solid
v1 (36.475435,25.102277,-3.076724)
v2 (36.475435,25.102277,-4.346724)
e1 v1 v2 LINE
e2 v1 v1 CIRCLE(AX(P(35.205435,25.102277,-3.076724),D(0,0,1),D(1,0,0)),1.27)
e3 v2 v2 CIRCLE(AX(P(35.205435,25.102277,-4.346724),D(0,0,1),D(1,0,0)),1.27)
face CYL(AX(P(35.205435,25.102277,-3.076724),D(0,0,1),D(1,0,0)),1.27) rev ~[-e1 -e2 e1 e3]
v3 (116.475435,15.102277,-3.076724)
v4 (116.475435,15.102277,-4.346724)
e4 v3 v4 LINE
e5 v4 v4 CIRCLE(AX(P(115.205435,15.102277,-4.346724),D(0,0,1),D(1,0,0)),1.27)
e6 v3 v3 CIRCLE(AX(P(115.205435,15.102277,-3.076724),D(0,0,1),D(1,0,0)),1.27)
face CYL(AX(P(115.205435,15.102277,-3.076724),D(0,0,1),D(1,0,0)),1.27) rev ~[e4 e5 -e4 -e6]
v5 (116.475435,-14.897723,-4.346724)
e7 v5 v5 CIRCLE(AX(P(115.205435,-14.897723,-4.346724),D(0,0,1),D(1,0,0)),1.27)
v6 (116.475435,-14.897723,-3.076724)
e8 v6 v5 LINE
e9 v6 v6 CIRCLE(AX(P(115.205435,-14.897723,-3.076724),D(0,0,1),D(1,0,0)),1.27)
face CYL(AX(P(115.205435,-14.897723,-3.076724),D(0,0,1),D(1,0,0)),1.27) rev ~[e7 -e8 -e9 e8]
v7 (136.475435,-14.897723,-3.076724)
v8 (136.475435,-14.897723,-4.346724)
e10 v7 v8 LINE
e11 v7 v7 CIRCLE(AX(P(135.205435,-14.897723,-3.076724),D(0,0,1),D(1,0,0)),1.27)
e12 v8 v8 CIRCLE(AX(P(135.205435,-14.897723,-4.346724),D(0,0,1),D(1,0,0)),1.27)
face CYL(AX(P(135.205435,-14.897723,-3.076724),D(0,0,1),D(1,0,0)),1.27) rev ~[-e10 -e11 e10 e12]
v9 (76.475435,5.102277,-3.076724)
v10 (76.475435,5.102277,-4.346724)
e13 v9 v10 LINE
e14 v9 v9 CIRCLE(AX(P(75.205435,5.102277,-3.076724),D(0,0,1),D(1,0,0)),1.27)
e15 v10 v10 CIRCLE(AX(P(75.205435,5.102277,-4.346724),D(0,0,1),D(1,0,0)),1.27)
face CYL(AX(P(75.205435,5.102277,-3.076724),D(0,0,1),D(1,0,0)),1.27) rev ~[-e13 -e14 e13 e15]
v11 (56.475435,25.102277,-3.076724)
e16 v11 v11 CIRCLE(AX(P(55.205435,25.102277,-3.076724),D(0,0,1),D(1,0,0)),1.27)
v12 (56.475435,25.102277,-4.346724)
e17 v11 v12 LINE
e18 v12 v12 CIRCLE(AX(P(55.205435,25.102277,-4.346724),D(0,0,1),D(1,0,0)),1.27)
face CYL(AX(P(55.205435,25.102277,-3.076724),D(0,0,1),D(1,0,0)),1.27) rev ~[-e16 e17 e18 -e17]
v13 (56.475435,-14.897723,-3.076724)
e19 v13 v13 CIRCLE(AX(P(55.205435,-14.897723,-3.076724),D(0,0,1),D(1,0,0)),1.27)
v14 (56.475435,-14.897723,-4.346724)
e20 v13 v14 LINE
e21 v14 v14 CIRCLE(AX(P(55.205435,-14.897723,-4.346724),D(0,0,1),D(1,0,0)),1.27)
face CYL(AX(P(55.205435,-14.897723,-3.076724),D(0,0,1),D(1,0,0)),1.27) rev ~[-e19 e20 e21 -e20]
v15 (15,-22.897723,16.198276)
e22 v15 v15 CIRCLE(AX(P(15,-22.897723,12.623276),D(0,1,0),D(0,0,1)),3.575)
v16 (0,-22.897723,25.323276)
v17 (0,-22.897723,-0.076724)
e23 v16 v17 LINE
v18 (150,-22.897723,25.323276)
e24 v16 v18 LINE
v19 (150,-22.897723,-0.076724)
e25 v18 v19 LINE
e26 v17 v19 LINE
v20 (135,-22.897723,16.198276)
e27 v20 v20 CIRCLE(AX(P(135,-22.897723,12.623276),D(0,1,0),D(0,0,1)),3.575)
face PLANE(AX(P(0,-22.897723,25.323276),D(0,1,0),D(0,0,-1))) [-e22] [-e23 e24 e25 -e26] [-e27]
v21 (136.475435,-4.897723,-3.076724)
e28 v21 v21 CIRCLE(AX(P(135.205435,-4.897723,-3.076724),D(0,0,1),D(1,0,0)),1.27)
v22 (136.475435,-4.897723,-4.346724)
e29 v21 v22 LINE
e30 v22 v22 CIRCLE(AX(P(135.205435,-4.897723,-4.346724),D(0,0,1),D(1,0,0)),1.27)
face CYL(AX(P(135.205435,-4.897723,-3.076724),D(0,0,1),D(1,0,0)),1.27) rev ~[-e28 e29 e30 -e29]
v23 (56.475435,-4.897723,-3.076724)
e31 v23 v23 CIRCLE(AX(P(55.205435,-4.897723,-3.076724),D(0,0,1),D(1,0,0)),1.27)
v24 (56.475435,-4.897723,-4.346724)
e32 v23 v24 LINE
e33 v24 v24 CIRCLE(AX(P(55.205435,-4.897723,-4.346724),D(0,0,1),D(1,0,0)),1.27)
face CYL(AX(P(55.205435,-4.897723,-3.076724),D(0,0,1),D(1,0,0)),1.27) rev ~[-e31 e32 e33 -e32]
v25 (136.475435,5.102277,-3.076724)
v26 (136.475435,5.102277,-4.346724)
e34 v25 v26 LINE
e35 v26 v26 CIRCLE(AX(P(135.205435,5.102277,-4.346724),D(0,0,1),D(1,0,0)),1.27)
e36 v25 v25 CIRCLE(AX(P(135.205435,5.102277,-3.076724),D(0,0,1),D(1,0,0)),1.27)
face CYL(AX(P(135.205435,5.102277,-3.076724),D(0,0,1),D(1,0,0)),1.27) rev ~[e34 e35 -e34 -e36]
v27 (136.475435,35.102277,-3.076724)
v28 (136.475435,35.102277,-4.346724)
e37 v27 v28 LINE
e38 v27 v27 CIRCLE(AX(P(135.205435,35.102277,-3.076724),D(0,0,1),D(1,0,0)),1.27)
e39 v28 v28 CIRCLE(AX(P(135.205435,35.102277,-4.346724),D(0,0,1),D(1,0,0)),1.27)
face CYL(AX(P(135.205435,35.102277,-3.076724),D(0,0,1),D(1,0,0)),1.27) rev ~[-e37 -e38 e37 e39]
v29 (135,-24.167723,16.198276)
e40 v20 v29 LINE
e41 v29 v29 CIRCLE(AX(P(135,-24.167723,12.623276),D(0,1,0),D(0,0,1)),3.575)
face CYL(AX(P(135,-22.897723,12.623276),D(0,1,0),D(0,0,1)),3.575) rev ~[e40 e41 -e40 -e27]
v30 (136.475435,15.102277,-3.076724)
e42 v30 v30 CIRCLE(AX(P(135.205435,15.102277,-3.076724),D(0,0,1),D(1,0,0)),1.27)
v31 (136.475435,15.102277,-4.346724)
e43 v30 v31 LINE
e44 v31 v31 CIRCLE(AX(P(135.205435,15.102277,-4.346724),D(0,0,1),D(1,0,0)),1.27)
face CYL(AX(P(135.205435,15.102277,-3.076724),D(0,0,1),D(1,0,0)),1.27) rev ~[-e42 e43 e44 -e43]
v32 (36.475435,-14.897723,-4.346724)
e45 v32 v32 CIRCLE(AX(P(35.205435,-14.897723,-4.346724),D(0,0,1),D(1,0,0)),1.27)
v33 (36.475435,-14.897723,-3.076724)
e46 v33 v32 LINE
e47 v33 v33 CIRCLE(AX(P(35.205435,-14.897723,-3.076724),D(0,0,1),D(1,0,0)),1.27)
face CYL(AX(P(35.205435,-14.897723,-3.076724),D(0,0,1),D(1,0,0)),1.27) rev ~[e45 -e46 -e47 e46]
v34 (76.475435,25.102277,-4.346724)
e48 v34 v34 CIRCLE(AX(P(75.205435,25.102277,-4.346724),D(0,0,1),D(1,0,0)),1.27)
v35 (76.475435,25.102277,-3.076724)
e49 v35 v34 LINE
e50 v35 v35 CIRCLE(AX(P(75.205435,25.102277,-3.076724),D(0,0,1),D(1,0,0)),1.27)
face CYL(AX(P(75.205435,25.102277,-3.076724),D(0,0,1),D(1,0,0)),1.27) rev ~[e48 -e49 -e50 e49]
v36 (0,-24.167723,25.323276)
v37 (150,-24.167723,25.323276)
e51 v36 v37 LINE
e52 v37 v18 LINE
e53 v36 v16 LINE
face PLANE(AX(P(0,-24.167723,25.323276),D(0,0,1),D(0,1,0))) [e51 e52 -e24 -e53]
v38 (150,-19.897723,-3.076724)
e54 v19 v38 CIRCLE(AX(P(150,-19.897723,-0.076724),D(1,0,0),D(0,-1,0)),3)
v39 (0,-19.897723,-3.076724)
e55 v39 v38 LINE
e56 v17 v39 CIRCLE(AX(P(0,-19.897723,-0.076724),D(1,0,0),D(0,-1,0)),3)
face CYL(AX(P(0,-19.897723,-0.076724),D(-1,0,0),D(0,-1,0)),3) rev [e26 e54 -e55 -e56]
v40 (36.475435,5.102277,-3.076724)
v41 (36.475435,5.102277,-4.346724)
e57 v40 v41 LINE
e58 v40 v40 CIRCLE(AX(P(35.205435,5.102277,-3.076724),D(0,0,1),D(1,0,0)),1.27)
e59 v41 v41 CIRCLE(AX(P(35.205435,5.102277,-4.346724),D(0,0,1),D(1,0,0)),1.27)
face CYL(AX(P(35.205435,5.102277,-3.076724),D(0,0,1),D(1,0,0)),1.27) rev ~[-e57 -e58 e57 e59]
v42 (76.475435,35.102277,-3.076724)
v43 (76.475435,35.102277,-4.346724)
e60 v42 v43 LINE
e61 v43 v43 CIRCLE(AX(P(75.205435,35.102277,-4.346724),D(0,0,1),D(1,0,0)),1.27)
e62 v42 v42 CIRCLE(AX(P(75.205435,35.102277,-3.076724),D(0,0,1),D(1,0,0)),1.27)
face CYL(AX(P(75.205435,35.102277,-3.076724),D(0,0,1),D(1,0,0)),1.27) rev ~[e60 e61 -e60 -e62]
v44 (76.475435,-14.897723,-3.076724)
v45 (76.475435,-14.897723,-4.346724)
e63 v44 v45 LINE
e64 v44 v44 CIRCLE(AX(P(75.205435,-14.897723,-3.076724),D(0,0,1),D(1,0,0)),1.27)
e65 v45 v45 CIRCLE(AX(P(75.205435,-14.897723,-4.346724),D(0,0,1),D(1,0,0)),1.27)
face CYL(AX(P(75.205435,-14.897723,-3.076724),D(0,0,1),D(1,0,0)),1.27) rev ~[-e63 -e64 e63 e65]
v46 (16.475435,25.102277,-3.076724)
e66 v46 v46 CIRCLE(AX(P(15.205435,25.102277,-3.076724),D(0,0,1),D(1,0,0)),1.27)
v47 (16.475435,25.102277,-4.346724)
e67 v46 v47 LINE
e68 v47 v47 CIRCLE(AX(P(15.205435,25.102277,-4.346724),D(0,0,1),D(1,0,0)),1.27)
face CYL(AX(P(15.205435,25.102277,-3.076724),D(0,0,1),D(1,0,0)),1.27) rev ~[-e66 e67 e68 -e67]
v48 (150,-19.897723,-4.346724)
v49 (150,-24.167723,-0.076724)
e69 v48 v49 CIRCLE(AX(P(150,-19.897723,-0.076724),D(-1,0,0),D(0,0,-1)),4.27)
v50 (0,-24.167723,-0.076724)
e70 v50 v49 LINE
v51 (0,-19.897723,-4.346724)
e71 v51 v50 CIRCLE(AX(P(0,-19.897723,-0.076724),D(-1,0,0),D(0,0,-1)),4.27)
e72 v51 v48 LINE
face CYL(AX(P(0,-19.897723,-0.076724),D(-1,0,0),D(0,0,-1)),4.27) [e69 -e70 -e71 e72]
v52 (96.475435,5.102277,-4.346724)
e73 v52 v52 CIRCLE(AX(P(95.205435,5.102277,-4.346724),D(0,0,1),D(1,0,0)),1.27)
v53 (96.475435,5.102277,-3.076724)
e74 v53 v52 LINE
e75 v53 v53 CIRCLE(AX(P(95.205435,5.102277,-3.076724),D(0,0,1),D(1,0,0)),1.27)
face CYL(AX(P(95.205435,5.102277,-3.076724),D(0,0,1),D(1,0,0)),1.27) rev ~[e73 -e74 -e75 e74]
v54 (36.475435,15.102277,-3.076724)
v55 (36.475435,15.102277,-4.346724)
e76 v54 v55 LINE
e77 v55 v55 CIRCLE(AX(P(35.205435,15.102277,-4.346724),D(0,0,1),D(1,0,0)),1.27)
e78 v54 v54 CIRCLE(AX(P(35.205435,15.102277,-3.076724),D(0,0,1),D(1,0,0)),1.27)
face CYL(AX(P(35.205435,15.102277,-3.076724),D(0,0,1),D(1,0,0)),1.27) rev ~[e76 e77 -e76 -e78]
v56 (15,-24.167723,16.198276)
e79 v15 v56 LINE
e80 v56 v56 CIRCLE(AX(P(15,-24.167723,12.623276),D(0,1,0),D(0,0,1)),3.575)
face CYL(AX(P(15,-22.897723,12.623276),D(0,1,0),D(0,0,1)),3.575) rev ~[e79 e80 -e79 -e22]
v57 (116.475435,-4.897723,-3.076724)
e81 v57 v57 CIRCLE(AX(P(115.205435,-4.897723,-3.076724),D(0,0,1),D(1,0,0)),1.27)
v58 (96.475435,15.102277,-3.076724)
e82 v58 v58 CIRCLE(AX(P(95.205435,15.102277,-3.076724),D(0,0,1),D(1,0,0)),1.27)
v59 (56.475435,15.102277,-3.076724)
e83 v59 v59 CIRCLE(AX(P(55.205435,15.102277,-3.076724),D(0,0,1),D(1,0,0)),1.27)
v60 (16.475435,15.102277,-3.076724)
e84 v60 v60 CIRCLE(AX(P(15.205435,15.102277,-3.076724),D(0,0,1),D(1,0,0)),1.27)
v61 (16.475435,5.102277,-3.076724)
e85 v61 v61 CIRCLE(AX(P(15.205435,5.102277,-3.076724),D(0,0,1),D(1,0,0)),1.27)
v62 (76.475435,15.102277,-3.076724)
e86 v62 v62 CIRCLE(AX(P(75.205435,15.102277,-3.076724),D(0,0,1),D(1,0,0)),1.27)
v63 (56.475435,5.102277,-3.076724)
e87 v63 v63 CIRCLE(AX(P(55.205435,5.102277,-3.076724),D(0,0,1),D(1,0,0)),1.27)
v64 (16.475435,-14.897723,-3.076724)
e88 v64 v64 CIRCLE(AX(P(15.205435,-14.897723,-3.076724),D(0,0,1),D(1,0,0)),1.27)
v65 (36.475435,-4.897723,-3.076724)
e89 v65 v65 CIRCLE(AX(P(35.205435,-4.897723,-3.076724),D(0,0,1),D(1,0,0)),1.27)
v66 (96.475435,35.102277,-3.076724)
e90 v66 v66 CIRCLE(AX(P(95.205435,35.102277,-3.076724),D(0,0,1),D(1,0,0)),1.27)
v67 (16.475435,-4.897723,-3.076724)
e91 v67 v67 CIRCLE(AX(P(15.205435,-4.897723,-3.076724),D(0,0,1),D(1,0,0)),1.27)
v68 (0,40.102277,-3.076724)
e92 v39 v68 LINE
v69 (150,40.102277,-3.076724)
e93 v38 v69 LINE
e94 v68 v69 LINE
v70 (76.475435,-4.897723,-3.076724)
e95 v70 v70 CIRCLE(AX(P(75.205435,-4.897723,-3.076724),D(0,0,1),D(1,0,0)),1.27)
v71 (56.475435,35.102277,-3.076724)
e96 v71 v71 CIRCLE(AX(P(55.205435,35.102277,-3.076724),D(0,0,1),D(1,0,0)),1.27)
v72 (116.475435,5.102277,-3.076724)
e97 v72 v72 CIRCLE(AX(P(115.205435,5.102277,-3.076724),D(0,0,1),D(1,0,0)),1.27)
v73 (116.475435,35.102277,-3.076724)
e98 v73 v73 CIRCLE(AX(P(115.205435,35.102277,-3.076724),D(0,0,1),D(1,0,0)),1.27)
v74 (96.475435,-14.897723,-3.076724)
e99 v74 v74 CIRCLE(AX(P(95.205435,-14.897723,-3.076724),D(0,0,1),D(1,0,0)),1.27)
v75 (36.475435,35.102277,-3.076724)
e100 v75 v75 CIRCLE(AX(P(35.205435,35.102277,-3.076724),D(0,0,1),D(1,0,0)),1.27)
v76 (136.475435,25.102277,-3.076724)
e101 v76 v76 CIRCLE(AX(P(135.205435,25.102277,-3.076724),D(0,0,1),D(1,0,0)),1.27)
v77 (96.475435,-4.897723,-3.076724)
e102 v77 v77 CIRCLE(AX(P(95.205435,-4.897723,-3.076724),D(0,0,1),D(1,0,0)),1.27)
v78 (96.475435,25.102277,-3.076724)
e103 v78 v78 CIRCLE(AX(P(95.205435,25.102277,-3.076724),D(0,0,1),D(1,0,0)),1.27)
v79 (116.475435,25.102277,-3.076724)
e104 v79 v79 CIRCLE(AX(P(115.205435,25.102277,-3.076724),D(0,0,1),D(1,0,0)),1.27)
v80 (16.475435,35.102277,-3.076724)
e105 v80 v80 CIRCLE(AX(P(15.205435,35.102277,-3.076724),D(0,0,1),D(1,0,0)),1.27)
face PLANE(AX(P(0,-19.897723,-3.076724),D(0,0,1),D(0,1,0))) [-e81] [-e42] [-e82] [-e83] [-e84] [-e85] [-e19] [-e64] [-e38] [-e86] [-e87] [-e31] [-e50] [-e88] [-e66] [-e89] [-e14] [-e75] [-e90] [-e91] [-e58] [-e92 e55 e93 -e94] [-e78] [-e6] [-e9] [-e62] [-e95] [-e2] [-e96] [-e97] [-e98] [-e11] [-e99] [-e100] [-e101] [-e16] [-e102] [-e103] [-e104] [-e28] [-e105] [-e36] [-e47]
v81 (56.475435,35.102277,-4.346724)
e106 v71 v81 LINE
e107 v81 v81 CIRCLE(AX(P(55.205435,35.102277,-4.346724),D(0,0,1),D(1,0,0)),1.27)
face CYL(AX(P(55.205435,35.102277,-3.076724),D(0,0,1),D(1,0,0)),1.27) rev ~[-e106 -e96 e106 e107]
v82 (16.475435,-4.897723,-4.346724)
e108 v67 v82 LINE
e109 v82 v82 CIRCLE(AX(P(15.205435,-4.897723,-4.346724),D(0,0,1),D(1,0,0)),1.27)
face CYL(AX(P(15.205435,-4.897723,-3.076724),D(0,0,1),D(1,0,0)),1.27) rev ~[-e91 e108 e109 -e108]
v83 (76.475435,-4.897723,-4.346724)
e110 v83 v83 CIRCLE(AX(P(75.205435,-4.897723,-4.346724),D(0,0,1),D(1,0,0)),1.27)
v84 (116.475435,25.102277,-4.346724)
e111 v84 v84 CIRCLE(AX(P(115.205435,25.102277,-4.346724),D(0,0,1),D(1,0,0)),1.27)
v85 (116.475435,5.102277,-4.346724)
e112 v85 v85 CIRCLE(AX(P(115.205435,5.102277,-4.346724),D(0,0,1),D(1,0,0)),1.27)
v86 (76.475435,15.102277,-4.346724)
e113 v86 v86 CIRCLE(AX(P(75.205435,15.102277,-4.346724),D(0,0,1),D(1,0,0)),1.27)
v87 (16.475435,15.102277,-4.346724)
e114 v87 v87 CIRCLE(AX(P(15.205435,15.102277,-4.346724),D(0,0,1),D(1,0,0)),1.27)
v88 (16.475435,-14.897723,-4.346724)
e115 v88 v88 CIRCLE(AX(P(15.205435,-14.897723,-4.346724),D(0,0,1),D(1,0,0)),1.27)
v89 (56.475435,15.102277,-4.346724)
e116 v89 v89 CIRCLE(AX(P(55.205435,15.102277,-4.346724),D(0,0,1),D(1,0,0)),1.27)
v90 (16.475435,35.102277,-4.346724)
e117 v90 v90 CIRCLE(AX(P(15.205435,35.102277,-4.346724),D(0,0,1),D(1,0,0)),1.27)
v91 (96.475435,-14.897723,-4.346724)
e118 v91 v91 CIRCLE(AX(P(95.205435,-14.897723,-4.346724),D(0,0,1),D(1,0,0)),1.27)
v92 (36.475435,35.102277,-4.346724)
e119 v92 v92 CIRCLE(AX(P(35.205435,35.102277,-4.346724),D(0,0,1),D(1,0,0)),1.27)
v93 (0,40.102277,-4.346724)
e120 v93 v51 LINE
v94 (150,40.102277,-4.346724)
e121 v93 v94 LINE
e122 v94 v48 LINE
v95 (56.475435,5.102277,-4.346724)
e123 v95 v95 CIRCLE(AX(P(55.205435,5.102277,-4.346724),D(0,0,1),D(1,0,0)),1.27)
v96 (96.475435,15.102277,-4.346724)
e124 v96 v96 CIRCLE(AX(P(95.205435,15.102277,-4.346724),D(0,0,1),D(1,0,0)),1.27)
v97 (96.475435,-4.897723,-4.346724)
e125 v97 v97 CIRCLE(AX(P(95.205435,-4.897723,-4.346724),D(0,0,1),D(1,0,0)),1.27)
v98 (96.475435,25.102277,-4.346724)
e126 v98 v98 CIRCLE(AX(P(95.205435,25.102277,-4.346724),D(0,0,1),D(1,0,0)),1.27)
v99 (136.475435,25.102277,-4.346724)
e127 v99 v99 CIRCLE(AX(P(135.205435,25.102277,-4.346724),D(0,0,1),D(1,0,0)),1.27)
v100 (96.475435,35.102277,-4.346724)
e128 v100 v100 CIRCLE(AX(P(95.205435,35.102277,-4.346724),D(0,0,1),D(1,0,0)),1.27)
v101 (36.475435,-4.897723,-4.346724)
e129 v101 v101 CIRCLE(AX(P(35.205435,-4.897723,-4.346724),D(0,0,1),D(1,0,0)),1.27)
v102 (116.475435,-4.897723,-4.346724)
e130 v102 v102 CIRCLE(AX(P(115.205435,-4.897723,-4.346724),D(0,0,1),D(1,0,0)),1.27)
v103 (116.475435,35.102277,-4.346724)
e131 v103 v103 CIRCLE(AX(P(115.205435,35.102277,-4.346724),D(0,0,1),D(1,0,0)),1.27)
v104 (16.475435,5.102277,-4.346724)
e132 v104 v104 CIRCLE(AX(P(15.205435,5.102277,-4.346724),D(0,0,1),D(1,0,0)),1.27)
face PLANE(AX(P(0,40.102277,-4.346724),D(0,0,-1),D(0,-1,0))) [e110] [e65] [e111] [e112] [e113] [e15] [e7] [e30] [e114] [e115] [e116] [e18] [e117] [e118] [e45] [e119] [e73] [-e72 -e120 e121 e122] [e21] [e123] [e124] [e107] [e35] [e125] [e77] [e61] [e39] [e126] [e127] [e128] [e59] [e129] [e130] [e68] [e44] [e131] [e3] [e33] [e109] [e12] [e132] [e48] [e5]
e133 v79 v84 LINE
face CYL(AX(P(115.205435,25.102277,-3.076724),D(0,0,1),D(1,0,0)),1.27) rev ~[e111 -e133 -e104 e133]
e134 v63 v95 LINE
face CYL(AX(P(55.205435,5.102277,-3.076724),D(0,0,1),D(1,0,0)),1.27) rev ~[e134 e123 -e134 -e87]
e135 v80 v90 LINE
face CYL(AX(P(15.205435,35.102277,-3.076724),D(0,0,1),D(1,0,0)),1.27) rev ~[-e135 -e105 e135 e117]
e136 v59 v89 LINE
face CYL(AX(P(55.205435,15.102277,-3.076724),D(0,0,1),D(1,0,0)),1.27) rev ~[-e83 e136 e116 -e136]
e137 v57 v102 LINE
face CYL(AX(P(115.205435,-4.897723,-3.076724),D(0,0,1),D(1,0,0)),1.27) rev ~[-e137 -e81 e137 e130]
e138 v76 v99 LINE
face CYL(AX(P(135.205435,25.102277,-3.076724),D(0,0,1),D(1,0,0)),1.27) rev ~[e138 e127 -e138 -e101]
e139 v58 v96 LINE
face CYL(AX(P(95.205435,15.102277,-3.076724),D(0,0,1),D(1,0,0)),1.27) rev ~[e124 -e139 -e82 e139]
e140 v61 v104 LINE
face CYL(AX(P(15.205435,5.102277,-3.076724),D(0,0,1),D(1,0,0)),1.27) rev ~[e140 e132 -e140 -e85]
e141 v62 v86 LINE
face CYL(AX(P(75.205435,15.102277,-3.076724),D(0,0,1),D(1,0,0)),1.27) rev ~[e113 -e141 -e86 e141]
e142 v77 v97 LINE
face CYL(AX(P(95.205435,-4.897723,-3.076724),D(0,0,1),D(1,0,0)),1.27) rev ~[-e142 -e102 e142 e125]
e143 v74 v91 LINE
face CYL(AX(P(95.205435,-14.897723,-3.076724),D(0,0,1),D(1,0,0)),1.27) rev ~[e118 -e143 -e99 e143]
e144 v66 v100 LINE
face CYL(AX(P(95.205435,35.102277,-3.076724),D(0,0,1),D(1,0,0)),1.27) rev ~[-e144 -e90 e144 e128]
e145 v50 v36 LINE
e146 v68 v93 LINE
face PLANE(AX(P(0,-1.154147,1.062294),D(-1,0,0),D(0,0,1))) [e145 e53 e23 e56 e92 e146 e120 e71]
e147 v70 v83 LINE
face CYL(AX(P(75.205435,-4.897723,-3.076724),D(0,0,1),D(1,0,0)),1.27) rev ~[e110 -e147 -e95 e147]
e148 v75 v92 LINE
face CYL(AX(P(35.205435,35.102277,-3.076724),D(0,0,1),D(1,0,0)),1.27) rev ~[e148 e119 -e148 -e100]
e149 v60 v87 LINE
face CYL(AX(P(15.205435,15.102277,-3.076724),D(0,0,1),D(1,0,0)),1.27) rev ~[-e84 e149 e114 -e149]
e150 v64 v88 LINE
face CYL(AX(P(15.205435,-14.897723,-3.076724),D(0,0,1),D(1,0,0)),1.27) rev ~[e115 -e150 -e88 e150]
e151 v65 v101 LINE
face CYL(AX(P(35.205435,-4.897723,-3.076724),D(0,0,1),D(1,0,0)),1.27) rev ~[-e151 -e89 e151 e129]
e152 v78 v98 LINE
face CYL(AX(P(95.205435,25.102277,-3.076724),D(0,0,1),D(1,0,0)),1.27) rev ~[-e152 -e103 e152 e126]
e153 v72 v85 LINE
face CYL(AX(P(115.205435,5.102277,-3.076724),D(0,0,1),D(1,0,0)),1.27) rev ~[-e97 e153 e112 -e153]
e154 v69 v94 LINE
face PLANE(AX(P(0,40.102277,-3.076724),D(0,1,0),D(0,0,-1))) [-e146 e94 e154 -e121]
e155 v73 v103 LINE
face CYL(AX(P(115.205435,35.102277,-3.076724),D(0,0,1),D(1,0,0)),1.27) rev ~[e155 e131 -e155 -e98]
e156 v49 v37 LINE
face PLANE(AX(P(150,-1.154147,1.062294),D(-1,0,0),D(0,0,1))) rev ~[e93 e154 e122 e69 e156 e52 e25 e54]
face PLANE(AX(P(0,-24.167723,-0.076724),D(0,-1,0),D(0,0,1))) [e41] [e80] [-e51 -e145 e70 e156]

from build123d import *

# Parameters (mm, degrees)
EXTRUDE_THIN1_DEPTH        = 150
SKETCH5_R                  = 3.575
CUT_EXTRUDE1_DEPTH         = 165.651961158
SKETCH6_R                  = 1.27
CUT_EXTRUDE2_DEPTH         = 158.844076918
LPATTERN2_COUNT            = 7
LPATTERN2_PITCH            = 20
LPATTERN3_COUNT            = 6
LPATTERN3_PITCH            = 10
LPATTERN3_COPY_1_SKETCH_R  = 1.27
LPATTERN3_COPY_1_DEPTH     = 158.844076918
LPATTERN3_COPY_2_SKETCH_R  = 1.27
LPATTERN3_COPY_2_DEPTH     = 158.844076918
LPATTERN3_COPY_3_SKETCH_R  = 1.27
LPATTERN3_COPY_3_DEPTH     = 158.844076918
LPATTERN3_COPY_4_SKETCH_R  = 1.27
LPATTERN3_COPY_4_DEPTH     = 158.844076918
LPATTERN3_COPY_5_SKETCH_R  = 1.27
LPATTERN3_COPY_5_DEPTH     = 158.844076918
LPATTERN3_COPY_6_SKETCH_R  = 1.27
LPATTERN3_COPY_6_DEPTH     = 158.844076918
LPATTERN3_COPY_7_SKETCH_R  = 1.27
LPATTERN3_COPY_7_DEPTH     = 158.844076918
LPATTERN3_COPY_8_SKETCH_R  = 1.27
LPATTERN3_COPY_8_DEPTH     = 158.844076918
LPATTERN3_COPY_9_SKETCH_R  = 1.27
LPATTERN3_COPY_9_DEPTH     = 158.844076918
LPATTERN3_COPY_10_SKETCH_R = 1.27
LPATTERN3_COPY_10_DEPTH    = 158.844076918
LPATTERN3_COPY_11_SKETCH_R = 1.27
LPATTERN3_COPY_11_DEPTH    = 158.844076918
LPATTERN3_COPY_12_SKETCH_R = 1.27
LPATTERN3_COPY_12_DEPTH    = 158.844076918
LPATTERN3_COPY_13_SKETCH_R = 1.27
LPATTERN3_COPY_13_DEPTH    = 158.844076918
LPATTERN3_COPY_14_SKETCH_R = 1.27
LPATTERN3_COPY_14_DEPTH    = 158.844076918
LPATTERN3_COPY_15_SKETCH_R = 1.27
LPATTERN3_COPY_15_DEPTH    = 158.844076918
LPATTERN3_COPY_16_SKETCH_R = 1.27
LPATTERN3_COPY_16_DEPTH    = 158.844076918
LPATTERN3_COPY_17_SKETCH_R = 1.27
LPATTERN3_COPY_17_DEPTH    = 158.844076918
LPATTERN3_COPY_18_SKETCH_R = 1.27
LPATTERN3_COPY_18_DEPTH    = 158.844076918
LPATTERN3_COPY_19_SKETCH_R = 1.27
LPATTERN3_COPY_19_DEPTH    = 158.844076918
LPATTERN3_COPY_20_SKETCH_R = 1.27
LPATTERN3_COPY_20_DEPTH    = 158.844076918
LPATTERN3_COPY_21_SKETCH_R = 1.27
LPATTERN3_COPY_21_DEPTH    = 158.844076918
LPATTERN3_COPY_22_SKETCH_R = 1.27
LPATTERN3_COPY_22_DEPTH    = 158.844076918
LPATTERN3_COPY_23_SKETCH_R = 1.27
LPATTERN3_COPY_23_DEPTH    = 158.844076918
LPATTERN3_COPY_24_SKETCH_R = 1.27
LPATTERN3_COPY_24_DEPTH    = 158.844076918
LPATTERN3_COPY_25_SKETCH_R = 1.27
LPATTERN3_COPY_25_DEPTH    = 158.844076918
LPATTERN3_COPY_26_SKETCH_R = 1.27
LPATTERN3_COPY_26_DEPTH    = 158.844076918
LPATTERN3_COPY_27_SKETCH_R = 1.27
LPATTERN3_COPY_27_DEPTH    = 158.844076918
LPATTERN3_COPY_28_SKETCH_R = 1.27
LPATTERN3_COPY_28_DEPTH    = 158.844076918
LPATTERN3_COPY_29_SKETCH_R = 1.27
LPATTERN3_COPY_29_DEPTH    = 158.844076918
LPATTERN3_COPY_30_SKETCH_R = 1.27
LPATTERN3_COPY_30_DEPTH    = 158.844076918


with BuildPart() as part:
    # Sketch2 → Extrude-Thin1 (new body)
    with BuildSketch(Plane(origin=(0, 0, 0), x_dir=(0, 0, -1), z_dir=(1, 0, 0))):
        with BuildLine():
            Line((-25.323276114, -22.897723031), (0.076723886, -22.897723031))
            ThreePointArc((0.076723886, -22.897723031), (2.198044229, -22.019043375), (3.076723886, -19.897723031))
            Line((3.076723886, -19.897723031), (3.076723886, 40.102276969))
            Line((3.076723886, 40.102276969), (4.346723886, 40.102276969))
            Line((4.346723886, 40.102276969), (4.346723886, -19.897723031))
            ThreePointArc((4.346723886, -19.897723031), (3.096069841, -22.917068987), (0.076723886, -24.167723031))
            Line((0.076723886, -24.167723031), (-25.323276114, -24.167723031))
            Line((-25.323276114, -24.167723031), (-25.323276114, -22.897723031))
        make_face()
    extrude(amount=EXTRUDE_THIN1_DEPTH)

    # Sketch5 → Cut-Extrude1 (cut, through all)
    with BuildSketch(Plane(origin=(0, -22.897723031, 0), x_dir=(1, 0, 0), z_dir=(0, 1, 0))):
        with Locations(Location((15, -12.623276114, 0), (0, 0, 270))):
            Circle(SKETCH5_R)
        with Locations(Location((135, -12.623276114, 0), (0, 0, 270))):
            Circle(SKETCH5_R)
    extrude(amount=-CUT_EXTRUDE1_DEPTH, mode=Mode.SUBTRACT)

    # Sketch6 → Cut-Extrude2 (cut, through all)
    with BuildSketch(Plane.XY.offset(-3.076723886)):
        with Locations((15.205434806, 35.102276969)):
            Circle(SKETCH6_R)
    cut_extrude2 = extrude(amount=-CUT_EXTRUDE2_DEPTH, mode=Mode.SUBTRACT)

    # LPattern2: Cut-Extrude2 ×7
    with Locations(*[(i * LPATTERN2_PITCH, 0, 0) for i in range(1, LPATTERN2_COUNT)]):
        add(cut_extrude2, mode=Mode.SUBTRACT)

    # LPattern3: Cut-Extrude2 ×6
    with Locations(*[(0, -i * LPATTERN3_PITCH, 0) for i in range(1, LPATTERN3_COUNT)]):
        add(cut_extrude2, mode=Mode.SUBTRACT)

    # LPattern3 copy 1 sketch → LPattern3 copy 1 (cut, through all)
    with BuildSketch(Plane(origin=(20, -10, -3.076723886), x_dir=(1, 0, 0), z_dir=(0, 0, 1))):
        with Locations((15.205434806, 35.102276969)):
            Circle(LPATTERN3_COPY_1_SKETCH_R)
    extrude(amount=-LPATTERN3_COPY_1_DEPTH, mode=Mode.SUBTRACT)

    # LPattern3 copy 2 sketch → LPattern3 copy 2 (cut, through all)
    with BuildSketch(Plane(origin=(20, -20, -3.076723886), x_dir=(1, 0, 0), z_dir=(0, 0, 1))):
        with Locations((15.205434806, 35.102276969)):
            Circle(LPATTERN3_COPY_2_SKETCH_R)
    extrude(amount=-LPATTERN3_COPY_2_DEPTH, mode=Mode.SUBTRACT)

    # LPattern3 copy 3 sketch → LPattern3 copy 3 (cut, through all)
    with BuildSketch(Plane(origin=(20, -30, -3.076723886), x_dir=(1, 0, 0), z_dir=(0, 0, 1))):
        with Locations((15.205434806, 35.102276969)):
            Circle(LPATTERN3_COPY_3_SKETCH_R)
    extrude(amount=-LPATTERN3_COPY_3_DEPTH, mode=Mode.SUBTRACT)

    # LPattern3 copy 4 sketch → LPattern3 copy 4 (cut, through all)
    with BuildSketch(Plane(origin=(20, -40, -3.076723886), x_dir=(1, 0, 0), z_dir=(0, 0, 1))):
        with Locations((15.205434806, 35.102276969)):
            Circle(LPATTERN3_COPY_4_SKETCH_R)
    extrude(amount=-LPATTERN3_COPY_4_DEPTH, mode=Mode.SUBTRACT)

    # LPattern3 copy 5 sketch → LPattern3 copy 5 (cut, through all)
    with BuildSketch(Plane(origin=(20, -50, -3.076723886), x_dir=(1, 0, 0), z_dir=(0, 0, 1))):
        with Locations((15.205434806, 35.102276969)):
            Circle(LPATTERN3_COPY_5_SKETCH_R)
    extrude(amount=-LPATTERN3_COPY_5_DEPTH, mode=Mode.SUBTRACT)

    # LPattern3 copy 6 sketch → LPattern3 copy 6 (cut, through all)
    with BuildSketch(Plane(origin=(40, -10, -3.076723886), x_dir=(1, 0, 0), z_dir=(0, 0, 1))):
        with Locations((15.205434806, 35.102276969)):
            Circle(LPATTERN3_COPY_6_SKETCH_R)
    extrude(amount=-LPATTERN3_COPY_6_DEPTH, mode=Mode.SUBTRACT)

    # LPattern3 copy 7 sketch → LPattern3 copy 7 (cut, through all)
    with BuildSketch(Plane(origin=(40, -20, -3.076723886), x_dir=(1, 0, 0), z_dir=(0, 0, 1))):
        with Locations((15.205434806, 35.102276969)):
            Circle(LPATTERN3_COPY_7_SKETCH_R)
    extrude(amount=-LPATTERN3_COPY_7_DEPTH, mode=Mode.SUBTRACT)

    # LPattern3 copy 8 sketch → LPattern3 copy 8 (cut, through all)
    with BuildSketch(Plane(origin=(40, -30, -3.076723886), x_dir=(1, 0, 0), z_dir=(0, 0, 1))):
        with Locations((15.205434806, 35.102276969)):
            Circle(LPATTERN3_COPY_8_SKETCH_R)
    extrude(amount=-LPATTERN3_COPY_8_DEPTH, mode=Mode.SUBTRACT)

    # LPattern3 copy 9 sketch → LPattern3 copy 9 (cut, through all)
    with BuildSketch(Plane(origin=(40, -40, -3.076723886), x_dir=(1, 0, 0), z_dir=(0, 0, 1))):
        with Locations((15.205434806, 35.102276969)):
            Circle(LPATTERN3_COPY_9_SKETCH_R)
    extrude(amount=-LPATTERN3_COPY_9_DEPTH, mode=Mode.SUBTRACT)

    # LPattern3 copy 10 sketch → LPattern3 copy 10 (cut, through all)
    with BuildSketch(Plane(origin=(40, -50, -3.076723886), x_dir=(1, 0, 0), z_dir=(0, 0, 1))):
        with Locations((15.205434806, 35.102276969)):
            Circle(LPATTERN3_COPY_10_SKETCH_R)
    extrude(amount=-LPATTERN3_COPY_10_DEPTH, mode=Mode.SUBTRACT)

    # LPattern3 copy 11 sketch → LPattern3 copy 11 (cut, through all)
    with BuildSketch(Plane(origin=(60, -10, -3.076723886), x_dir=(1, 0, 0), z_dir=(0, 0, 1))):
        with Locations((15.205434806, 35.102276969)):
            Circle(LPATTERN3_COPY_11_SKETCH_R)
    extrude(amount=-LPATTERN3_COPY_11_DEPTH, mode=Mode.SUBTRACT)

    # LPattern3 copy 12 sketch → LPattern3 copy 12 (cut, through all)
    with BuildSketch(Plane(origin=(60, -20, -3.076723886), x_dir=(1, 0, 0), z_dir=(0, 0, 1))):
        with Locations((15.205434806, 35.102276969)):
            Circle(LPATTERN3_COPY_12_SKETCH_R)
    extrude(amount=-LPATTERN3_COPY_12_DEPTH, mode=Mode.SUBTRACT)

    # LPattern3 copy 13 sketch → LPattern3 copy 13 (cut, through all)
    with BuildSketch(Plane(origin=(60, -30, -3.076723886), x_dir=(1, 0, 0), z_dir=(0, 0, 1))):
        with Locations((15.205434806, 35.102276969)):
            Circle(LPATTERN3_COPY_13_SKETCH_R)
    extrude(amount=-LPATTERN3_COPY_13_DEPTH, mode=Mode.SUBTRACT)

    # LPattern3 copy 14 sketch → LPattern3 copy 14 (cut, through all)
    with BuildSketch(Plane(origin=(60, -40, -3.076723886), x_dir=(1, 0, 0), z_dir=(0, 0, 1))):
        with Locations((15.205434806, 35.102276969)):
            Circle(LPATTERN3_COPY_14_SKETCH_R)
    extrude(amount=-LPATTERN3_COPY_14_DEPTH, mode=Mode.SUBTRACT)

    # LPattern3 copy 15 sketch → LPattern3 copy 15 (cut, through all)
    with BuildSketch(Plane(origin=(60, -50, -3.076723886), x_dir=(1, 0, 0), z_dir=(0, 0, 1))):
        with Locations((15.205434806, 35.102276969)):
            Circle(LPATTERN3_COPY_15_SKETCH_R)
    extrude(amount=-LPATTERN3_COPY_15_DEPTH, mode=Mode.SUBTRACT)

    # LPattern3 copy 16 sketch → LPattern3 copy 16 (cut, through all)
    with BuildSketch(Plane(origin=(80, -10, -3.076723886), x_dir=(1, 0, 0), z_dir=(0, 0, 1))):
        with Locations((15.205434806, 35.102276969)):
            Circle(LPATTERN3_COPY_16_SKETCH_R)
    extrude(amount=-LPATTERN3_COPY_16_DEPTH, mode=Mode.SUBTRACT)

    # LPattern3 copy 17 sketch → LPattern3 copy 17 (cut, through all)
    with BuildSketch(Plane(origin=(80, -20, -3.076723886), x_dir=(1, 0, 0), z_dir=(0, 0, 1))):
        with Locations((15.205434806, 35.102276969)):
            Circle(LPATTERN3_COPY_17_SKETCH_R)
    extrude(amount=-LPATTERN3_COPY_17_DEPTH, mode=Mode.SUBTRACT)

    # LPattern3 copy 18 sketch → LPattern3 copy 18 (cut, through all)
    with BuildSketch(Plane(origin=(80, -30, -3.076723886), x_dir=(1, 0, 0), z_dir=(0, 0, 1))):
        with Locations((15.205434806, 35.102276969)):
            Circle(LPATTERN3_COPY_18_SKETCH_R)
    extrude(amount=-LPATTERN3_COPY_18_DEPTH, mode=Mode.SUBTRACT)

    # LPattern3 copy 19 sketch → LPattern3 copy 19 (cut, through all)
    with BuildSketch(Plane(origin=(80, -40, -3.076723886), x_dir=(1, 0, 0), z_dir=(0, 0, 1))):
        with Locations((15.205434806, 35.102276969)):
            Circle(LPATTERN3_COPY_19_SKETCH_R)
    extrude(amount=-LPATTERN3_COPY_19_DEPTH, mode=Mode.SUBTRACT)

    # LPattern3 copy 20 sketch → LPattern3 copy 20 (cut, through all)
    with BuildSketch(Plane(origin=(80, -50, -3.076723886), x_dir=(1, 0, 0), z_dir=(0, 0, 1))):
        with Locations((15.205434806, 35.102276969)):
            Circle(LPATTERN3_COPY_20_SKETCH_R)
    extrude(amount=-LPATTERN3_COPY_20_DEPTH, mode=Mode.SUBTRACT)

    # LPattern3 copy 21 sketch → LPattern3 copy 21 (cut, through all)
    with BuildSketch(Plane(origin=(100, -10, -3.076723886), x_dir=(1, 0, 0), z_dir=(0, 0, 1))):
        with Locations((15.205434806, 35.102276969)):
            Circle(LPATTERN3_COPY_21_SKETCH_R)
    extrude(amount=-LPATTERN3_COPY_21_DEPTH, mode=Mode.SUBTRACT)

    # LPattern3 copy 22 sketch → LPattern3 copy 22 (cut, through all)
    with BuildSketch(Plane(origin=(100, -20, -3.076723886), x_dir=(1, 0, 0), z_dir=(0, 0, 1))):
        with Locations((15.205434806, 35.102276969)):
            Circle(LPATTERN3_COPY_22_SKETCH_R)
    extrude(amount=-LPATTERN3_COPY_22_DEPTH, mode=Mode.SUBTRACT)

    # LPattern3 copy 23 sketch → LPattern3 copy 23 (cut, through all)
    with BuildSketch(Plane(origin=(100, -30, -3.076723886), x_dir=(1, 0, 0), z_dir=(0, 0, 1))):
        with Locations((15.205434806, 35.102276969)):
            Circle(LPATTERN3_COPY_23_SKETCH_R)
    extrude(amount=-LPATTERN3_COPY_23_DEPTH, mode=Mode.SUBTRACT)

    # LPattern3 copy 24 sketch → LPattern3 copy 24 (cut, through all)
    with BuildSketch(Plane(origin=(100, -40, -3.076723886), x_dir=(1, 0, 0), z_dir=(0, 0, 1))):
        with Locations((15.205434806, 35.102276969)):
            Circle(LPATTERN3_COPY_24_SKETCH_R)
    extrude(amount=-LPATTERN3_COPY_24_DEPTH, mode=Mode.SUBTRACT)

    # LPattern3 copy 25 sketch → LPattern3 copy 25 (cut, through all)
    with BuildSketch(Plane(origin=(100, -50, -3.076723886), x_dir=(1, 0, 0), z_dir=(0, 0, 1))):
        with Locations((15.205434806, 35.102276969)):
            Circle(LPATTERN3_COPY_25_SKETCH_R)
    extrude(amount=-LPATTERN3_COPY_25_DEPTH, mode=Mode.SUBTRACT)

    # LPattern3 copy 26 sketch → LPattern3 copy 26 (cut, through all)
    with BuildSketch(Plane(origin=(120, -10, -3.076723886), x_dir=(1, 0, 0), z_dir=(0, 0, 1))):
        with Locations((15.205434806, 35.102276969)):
            Circle(LPATTERN3_COPY_26_SKETCH_R)
    extrude(amount=-LPATTERN3_COPY_26_DEPTH, mode=Mode.SUBTRACT)

    # LPattern3 copy 27 sketch → LPattern3 copy 27 (cut, through all)
    with BuildSketch(Plane(origin=(120, -20, -3.076723886), x_dir=(1, 0, 0), z_dir=(0, 0, 1))):
        with Locations((15.205434806, 35.102276969)):
            Circle(LPATTERN3_COPY_27_SKETCH_R)
    extrude(amount=-LPATTERN3_COPY_27_DEPTH, mode=Mode.SUBTRACT)

    # LPattern3 copy 28 sketch → LPattern3 copy 28 (cut, through all)
    with BuildSketch(Plane(origin=(120, -30, -3.076723886), x_dir=(1, 0, 0), z_dir=(0, 0, 1))):
        with Locations((15.205434806, 35.102276969)):
            Circle(LPATTERN3_COPY_28_SKETCH_R)
    extrude(amount=-LPATTERN3_COPY_28_DEPTH, mode=Mode.SUBTRACT)

    # LPattern3 copy 29 sketch → LPattern3 copy 29 (cut, through all)
    with BuildSketch(Plane(origin=(120, -40, -3.076723886), x_dir=(1, 0, 0), z_dir=(0, 0, 1))):
        with Locations((15.205434806, 35.102276969)):
            Circle(LPATTERN3_COPY_29_SKETCH_R)
    extrude(amount=-LPATTERN3_COPY_29_DEPTH, mode=Mode.SUBTRACT)

    # LPattern3 copy 30 sketch → LPattern3 copy 30 (cut, through all)
    with BuildSketch(Plane(origin=(120, -50, -3.076723886), x_dir=(1, 0, 0), z_dir=(0, 0, 1))):
        with Locations((15.205434806, 35.102276969)):
            Circle(LPATTERN3_COPY_30_SKETCH_R)
    extrude(amount=-LPATTERN3_COPY_30_DEPTH, mode=Mode.SUBTRACT)


solid = part.part
